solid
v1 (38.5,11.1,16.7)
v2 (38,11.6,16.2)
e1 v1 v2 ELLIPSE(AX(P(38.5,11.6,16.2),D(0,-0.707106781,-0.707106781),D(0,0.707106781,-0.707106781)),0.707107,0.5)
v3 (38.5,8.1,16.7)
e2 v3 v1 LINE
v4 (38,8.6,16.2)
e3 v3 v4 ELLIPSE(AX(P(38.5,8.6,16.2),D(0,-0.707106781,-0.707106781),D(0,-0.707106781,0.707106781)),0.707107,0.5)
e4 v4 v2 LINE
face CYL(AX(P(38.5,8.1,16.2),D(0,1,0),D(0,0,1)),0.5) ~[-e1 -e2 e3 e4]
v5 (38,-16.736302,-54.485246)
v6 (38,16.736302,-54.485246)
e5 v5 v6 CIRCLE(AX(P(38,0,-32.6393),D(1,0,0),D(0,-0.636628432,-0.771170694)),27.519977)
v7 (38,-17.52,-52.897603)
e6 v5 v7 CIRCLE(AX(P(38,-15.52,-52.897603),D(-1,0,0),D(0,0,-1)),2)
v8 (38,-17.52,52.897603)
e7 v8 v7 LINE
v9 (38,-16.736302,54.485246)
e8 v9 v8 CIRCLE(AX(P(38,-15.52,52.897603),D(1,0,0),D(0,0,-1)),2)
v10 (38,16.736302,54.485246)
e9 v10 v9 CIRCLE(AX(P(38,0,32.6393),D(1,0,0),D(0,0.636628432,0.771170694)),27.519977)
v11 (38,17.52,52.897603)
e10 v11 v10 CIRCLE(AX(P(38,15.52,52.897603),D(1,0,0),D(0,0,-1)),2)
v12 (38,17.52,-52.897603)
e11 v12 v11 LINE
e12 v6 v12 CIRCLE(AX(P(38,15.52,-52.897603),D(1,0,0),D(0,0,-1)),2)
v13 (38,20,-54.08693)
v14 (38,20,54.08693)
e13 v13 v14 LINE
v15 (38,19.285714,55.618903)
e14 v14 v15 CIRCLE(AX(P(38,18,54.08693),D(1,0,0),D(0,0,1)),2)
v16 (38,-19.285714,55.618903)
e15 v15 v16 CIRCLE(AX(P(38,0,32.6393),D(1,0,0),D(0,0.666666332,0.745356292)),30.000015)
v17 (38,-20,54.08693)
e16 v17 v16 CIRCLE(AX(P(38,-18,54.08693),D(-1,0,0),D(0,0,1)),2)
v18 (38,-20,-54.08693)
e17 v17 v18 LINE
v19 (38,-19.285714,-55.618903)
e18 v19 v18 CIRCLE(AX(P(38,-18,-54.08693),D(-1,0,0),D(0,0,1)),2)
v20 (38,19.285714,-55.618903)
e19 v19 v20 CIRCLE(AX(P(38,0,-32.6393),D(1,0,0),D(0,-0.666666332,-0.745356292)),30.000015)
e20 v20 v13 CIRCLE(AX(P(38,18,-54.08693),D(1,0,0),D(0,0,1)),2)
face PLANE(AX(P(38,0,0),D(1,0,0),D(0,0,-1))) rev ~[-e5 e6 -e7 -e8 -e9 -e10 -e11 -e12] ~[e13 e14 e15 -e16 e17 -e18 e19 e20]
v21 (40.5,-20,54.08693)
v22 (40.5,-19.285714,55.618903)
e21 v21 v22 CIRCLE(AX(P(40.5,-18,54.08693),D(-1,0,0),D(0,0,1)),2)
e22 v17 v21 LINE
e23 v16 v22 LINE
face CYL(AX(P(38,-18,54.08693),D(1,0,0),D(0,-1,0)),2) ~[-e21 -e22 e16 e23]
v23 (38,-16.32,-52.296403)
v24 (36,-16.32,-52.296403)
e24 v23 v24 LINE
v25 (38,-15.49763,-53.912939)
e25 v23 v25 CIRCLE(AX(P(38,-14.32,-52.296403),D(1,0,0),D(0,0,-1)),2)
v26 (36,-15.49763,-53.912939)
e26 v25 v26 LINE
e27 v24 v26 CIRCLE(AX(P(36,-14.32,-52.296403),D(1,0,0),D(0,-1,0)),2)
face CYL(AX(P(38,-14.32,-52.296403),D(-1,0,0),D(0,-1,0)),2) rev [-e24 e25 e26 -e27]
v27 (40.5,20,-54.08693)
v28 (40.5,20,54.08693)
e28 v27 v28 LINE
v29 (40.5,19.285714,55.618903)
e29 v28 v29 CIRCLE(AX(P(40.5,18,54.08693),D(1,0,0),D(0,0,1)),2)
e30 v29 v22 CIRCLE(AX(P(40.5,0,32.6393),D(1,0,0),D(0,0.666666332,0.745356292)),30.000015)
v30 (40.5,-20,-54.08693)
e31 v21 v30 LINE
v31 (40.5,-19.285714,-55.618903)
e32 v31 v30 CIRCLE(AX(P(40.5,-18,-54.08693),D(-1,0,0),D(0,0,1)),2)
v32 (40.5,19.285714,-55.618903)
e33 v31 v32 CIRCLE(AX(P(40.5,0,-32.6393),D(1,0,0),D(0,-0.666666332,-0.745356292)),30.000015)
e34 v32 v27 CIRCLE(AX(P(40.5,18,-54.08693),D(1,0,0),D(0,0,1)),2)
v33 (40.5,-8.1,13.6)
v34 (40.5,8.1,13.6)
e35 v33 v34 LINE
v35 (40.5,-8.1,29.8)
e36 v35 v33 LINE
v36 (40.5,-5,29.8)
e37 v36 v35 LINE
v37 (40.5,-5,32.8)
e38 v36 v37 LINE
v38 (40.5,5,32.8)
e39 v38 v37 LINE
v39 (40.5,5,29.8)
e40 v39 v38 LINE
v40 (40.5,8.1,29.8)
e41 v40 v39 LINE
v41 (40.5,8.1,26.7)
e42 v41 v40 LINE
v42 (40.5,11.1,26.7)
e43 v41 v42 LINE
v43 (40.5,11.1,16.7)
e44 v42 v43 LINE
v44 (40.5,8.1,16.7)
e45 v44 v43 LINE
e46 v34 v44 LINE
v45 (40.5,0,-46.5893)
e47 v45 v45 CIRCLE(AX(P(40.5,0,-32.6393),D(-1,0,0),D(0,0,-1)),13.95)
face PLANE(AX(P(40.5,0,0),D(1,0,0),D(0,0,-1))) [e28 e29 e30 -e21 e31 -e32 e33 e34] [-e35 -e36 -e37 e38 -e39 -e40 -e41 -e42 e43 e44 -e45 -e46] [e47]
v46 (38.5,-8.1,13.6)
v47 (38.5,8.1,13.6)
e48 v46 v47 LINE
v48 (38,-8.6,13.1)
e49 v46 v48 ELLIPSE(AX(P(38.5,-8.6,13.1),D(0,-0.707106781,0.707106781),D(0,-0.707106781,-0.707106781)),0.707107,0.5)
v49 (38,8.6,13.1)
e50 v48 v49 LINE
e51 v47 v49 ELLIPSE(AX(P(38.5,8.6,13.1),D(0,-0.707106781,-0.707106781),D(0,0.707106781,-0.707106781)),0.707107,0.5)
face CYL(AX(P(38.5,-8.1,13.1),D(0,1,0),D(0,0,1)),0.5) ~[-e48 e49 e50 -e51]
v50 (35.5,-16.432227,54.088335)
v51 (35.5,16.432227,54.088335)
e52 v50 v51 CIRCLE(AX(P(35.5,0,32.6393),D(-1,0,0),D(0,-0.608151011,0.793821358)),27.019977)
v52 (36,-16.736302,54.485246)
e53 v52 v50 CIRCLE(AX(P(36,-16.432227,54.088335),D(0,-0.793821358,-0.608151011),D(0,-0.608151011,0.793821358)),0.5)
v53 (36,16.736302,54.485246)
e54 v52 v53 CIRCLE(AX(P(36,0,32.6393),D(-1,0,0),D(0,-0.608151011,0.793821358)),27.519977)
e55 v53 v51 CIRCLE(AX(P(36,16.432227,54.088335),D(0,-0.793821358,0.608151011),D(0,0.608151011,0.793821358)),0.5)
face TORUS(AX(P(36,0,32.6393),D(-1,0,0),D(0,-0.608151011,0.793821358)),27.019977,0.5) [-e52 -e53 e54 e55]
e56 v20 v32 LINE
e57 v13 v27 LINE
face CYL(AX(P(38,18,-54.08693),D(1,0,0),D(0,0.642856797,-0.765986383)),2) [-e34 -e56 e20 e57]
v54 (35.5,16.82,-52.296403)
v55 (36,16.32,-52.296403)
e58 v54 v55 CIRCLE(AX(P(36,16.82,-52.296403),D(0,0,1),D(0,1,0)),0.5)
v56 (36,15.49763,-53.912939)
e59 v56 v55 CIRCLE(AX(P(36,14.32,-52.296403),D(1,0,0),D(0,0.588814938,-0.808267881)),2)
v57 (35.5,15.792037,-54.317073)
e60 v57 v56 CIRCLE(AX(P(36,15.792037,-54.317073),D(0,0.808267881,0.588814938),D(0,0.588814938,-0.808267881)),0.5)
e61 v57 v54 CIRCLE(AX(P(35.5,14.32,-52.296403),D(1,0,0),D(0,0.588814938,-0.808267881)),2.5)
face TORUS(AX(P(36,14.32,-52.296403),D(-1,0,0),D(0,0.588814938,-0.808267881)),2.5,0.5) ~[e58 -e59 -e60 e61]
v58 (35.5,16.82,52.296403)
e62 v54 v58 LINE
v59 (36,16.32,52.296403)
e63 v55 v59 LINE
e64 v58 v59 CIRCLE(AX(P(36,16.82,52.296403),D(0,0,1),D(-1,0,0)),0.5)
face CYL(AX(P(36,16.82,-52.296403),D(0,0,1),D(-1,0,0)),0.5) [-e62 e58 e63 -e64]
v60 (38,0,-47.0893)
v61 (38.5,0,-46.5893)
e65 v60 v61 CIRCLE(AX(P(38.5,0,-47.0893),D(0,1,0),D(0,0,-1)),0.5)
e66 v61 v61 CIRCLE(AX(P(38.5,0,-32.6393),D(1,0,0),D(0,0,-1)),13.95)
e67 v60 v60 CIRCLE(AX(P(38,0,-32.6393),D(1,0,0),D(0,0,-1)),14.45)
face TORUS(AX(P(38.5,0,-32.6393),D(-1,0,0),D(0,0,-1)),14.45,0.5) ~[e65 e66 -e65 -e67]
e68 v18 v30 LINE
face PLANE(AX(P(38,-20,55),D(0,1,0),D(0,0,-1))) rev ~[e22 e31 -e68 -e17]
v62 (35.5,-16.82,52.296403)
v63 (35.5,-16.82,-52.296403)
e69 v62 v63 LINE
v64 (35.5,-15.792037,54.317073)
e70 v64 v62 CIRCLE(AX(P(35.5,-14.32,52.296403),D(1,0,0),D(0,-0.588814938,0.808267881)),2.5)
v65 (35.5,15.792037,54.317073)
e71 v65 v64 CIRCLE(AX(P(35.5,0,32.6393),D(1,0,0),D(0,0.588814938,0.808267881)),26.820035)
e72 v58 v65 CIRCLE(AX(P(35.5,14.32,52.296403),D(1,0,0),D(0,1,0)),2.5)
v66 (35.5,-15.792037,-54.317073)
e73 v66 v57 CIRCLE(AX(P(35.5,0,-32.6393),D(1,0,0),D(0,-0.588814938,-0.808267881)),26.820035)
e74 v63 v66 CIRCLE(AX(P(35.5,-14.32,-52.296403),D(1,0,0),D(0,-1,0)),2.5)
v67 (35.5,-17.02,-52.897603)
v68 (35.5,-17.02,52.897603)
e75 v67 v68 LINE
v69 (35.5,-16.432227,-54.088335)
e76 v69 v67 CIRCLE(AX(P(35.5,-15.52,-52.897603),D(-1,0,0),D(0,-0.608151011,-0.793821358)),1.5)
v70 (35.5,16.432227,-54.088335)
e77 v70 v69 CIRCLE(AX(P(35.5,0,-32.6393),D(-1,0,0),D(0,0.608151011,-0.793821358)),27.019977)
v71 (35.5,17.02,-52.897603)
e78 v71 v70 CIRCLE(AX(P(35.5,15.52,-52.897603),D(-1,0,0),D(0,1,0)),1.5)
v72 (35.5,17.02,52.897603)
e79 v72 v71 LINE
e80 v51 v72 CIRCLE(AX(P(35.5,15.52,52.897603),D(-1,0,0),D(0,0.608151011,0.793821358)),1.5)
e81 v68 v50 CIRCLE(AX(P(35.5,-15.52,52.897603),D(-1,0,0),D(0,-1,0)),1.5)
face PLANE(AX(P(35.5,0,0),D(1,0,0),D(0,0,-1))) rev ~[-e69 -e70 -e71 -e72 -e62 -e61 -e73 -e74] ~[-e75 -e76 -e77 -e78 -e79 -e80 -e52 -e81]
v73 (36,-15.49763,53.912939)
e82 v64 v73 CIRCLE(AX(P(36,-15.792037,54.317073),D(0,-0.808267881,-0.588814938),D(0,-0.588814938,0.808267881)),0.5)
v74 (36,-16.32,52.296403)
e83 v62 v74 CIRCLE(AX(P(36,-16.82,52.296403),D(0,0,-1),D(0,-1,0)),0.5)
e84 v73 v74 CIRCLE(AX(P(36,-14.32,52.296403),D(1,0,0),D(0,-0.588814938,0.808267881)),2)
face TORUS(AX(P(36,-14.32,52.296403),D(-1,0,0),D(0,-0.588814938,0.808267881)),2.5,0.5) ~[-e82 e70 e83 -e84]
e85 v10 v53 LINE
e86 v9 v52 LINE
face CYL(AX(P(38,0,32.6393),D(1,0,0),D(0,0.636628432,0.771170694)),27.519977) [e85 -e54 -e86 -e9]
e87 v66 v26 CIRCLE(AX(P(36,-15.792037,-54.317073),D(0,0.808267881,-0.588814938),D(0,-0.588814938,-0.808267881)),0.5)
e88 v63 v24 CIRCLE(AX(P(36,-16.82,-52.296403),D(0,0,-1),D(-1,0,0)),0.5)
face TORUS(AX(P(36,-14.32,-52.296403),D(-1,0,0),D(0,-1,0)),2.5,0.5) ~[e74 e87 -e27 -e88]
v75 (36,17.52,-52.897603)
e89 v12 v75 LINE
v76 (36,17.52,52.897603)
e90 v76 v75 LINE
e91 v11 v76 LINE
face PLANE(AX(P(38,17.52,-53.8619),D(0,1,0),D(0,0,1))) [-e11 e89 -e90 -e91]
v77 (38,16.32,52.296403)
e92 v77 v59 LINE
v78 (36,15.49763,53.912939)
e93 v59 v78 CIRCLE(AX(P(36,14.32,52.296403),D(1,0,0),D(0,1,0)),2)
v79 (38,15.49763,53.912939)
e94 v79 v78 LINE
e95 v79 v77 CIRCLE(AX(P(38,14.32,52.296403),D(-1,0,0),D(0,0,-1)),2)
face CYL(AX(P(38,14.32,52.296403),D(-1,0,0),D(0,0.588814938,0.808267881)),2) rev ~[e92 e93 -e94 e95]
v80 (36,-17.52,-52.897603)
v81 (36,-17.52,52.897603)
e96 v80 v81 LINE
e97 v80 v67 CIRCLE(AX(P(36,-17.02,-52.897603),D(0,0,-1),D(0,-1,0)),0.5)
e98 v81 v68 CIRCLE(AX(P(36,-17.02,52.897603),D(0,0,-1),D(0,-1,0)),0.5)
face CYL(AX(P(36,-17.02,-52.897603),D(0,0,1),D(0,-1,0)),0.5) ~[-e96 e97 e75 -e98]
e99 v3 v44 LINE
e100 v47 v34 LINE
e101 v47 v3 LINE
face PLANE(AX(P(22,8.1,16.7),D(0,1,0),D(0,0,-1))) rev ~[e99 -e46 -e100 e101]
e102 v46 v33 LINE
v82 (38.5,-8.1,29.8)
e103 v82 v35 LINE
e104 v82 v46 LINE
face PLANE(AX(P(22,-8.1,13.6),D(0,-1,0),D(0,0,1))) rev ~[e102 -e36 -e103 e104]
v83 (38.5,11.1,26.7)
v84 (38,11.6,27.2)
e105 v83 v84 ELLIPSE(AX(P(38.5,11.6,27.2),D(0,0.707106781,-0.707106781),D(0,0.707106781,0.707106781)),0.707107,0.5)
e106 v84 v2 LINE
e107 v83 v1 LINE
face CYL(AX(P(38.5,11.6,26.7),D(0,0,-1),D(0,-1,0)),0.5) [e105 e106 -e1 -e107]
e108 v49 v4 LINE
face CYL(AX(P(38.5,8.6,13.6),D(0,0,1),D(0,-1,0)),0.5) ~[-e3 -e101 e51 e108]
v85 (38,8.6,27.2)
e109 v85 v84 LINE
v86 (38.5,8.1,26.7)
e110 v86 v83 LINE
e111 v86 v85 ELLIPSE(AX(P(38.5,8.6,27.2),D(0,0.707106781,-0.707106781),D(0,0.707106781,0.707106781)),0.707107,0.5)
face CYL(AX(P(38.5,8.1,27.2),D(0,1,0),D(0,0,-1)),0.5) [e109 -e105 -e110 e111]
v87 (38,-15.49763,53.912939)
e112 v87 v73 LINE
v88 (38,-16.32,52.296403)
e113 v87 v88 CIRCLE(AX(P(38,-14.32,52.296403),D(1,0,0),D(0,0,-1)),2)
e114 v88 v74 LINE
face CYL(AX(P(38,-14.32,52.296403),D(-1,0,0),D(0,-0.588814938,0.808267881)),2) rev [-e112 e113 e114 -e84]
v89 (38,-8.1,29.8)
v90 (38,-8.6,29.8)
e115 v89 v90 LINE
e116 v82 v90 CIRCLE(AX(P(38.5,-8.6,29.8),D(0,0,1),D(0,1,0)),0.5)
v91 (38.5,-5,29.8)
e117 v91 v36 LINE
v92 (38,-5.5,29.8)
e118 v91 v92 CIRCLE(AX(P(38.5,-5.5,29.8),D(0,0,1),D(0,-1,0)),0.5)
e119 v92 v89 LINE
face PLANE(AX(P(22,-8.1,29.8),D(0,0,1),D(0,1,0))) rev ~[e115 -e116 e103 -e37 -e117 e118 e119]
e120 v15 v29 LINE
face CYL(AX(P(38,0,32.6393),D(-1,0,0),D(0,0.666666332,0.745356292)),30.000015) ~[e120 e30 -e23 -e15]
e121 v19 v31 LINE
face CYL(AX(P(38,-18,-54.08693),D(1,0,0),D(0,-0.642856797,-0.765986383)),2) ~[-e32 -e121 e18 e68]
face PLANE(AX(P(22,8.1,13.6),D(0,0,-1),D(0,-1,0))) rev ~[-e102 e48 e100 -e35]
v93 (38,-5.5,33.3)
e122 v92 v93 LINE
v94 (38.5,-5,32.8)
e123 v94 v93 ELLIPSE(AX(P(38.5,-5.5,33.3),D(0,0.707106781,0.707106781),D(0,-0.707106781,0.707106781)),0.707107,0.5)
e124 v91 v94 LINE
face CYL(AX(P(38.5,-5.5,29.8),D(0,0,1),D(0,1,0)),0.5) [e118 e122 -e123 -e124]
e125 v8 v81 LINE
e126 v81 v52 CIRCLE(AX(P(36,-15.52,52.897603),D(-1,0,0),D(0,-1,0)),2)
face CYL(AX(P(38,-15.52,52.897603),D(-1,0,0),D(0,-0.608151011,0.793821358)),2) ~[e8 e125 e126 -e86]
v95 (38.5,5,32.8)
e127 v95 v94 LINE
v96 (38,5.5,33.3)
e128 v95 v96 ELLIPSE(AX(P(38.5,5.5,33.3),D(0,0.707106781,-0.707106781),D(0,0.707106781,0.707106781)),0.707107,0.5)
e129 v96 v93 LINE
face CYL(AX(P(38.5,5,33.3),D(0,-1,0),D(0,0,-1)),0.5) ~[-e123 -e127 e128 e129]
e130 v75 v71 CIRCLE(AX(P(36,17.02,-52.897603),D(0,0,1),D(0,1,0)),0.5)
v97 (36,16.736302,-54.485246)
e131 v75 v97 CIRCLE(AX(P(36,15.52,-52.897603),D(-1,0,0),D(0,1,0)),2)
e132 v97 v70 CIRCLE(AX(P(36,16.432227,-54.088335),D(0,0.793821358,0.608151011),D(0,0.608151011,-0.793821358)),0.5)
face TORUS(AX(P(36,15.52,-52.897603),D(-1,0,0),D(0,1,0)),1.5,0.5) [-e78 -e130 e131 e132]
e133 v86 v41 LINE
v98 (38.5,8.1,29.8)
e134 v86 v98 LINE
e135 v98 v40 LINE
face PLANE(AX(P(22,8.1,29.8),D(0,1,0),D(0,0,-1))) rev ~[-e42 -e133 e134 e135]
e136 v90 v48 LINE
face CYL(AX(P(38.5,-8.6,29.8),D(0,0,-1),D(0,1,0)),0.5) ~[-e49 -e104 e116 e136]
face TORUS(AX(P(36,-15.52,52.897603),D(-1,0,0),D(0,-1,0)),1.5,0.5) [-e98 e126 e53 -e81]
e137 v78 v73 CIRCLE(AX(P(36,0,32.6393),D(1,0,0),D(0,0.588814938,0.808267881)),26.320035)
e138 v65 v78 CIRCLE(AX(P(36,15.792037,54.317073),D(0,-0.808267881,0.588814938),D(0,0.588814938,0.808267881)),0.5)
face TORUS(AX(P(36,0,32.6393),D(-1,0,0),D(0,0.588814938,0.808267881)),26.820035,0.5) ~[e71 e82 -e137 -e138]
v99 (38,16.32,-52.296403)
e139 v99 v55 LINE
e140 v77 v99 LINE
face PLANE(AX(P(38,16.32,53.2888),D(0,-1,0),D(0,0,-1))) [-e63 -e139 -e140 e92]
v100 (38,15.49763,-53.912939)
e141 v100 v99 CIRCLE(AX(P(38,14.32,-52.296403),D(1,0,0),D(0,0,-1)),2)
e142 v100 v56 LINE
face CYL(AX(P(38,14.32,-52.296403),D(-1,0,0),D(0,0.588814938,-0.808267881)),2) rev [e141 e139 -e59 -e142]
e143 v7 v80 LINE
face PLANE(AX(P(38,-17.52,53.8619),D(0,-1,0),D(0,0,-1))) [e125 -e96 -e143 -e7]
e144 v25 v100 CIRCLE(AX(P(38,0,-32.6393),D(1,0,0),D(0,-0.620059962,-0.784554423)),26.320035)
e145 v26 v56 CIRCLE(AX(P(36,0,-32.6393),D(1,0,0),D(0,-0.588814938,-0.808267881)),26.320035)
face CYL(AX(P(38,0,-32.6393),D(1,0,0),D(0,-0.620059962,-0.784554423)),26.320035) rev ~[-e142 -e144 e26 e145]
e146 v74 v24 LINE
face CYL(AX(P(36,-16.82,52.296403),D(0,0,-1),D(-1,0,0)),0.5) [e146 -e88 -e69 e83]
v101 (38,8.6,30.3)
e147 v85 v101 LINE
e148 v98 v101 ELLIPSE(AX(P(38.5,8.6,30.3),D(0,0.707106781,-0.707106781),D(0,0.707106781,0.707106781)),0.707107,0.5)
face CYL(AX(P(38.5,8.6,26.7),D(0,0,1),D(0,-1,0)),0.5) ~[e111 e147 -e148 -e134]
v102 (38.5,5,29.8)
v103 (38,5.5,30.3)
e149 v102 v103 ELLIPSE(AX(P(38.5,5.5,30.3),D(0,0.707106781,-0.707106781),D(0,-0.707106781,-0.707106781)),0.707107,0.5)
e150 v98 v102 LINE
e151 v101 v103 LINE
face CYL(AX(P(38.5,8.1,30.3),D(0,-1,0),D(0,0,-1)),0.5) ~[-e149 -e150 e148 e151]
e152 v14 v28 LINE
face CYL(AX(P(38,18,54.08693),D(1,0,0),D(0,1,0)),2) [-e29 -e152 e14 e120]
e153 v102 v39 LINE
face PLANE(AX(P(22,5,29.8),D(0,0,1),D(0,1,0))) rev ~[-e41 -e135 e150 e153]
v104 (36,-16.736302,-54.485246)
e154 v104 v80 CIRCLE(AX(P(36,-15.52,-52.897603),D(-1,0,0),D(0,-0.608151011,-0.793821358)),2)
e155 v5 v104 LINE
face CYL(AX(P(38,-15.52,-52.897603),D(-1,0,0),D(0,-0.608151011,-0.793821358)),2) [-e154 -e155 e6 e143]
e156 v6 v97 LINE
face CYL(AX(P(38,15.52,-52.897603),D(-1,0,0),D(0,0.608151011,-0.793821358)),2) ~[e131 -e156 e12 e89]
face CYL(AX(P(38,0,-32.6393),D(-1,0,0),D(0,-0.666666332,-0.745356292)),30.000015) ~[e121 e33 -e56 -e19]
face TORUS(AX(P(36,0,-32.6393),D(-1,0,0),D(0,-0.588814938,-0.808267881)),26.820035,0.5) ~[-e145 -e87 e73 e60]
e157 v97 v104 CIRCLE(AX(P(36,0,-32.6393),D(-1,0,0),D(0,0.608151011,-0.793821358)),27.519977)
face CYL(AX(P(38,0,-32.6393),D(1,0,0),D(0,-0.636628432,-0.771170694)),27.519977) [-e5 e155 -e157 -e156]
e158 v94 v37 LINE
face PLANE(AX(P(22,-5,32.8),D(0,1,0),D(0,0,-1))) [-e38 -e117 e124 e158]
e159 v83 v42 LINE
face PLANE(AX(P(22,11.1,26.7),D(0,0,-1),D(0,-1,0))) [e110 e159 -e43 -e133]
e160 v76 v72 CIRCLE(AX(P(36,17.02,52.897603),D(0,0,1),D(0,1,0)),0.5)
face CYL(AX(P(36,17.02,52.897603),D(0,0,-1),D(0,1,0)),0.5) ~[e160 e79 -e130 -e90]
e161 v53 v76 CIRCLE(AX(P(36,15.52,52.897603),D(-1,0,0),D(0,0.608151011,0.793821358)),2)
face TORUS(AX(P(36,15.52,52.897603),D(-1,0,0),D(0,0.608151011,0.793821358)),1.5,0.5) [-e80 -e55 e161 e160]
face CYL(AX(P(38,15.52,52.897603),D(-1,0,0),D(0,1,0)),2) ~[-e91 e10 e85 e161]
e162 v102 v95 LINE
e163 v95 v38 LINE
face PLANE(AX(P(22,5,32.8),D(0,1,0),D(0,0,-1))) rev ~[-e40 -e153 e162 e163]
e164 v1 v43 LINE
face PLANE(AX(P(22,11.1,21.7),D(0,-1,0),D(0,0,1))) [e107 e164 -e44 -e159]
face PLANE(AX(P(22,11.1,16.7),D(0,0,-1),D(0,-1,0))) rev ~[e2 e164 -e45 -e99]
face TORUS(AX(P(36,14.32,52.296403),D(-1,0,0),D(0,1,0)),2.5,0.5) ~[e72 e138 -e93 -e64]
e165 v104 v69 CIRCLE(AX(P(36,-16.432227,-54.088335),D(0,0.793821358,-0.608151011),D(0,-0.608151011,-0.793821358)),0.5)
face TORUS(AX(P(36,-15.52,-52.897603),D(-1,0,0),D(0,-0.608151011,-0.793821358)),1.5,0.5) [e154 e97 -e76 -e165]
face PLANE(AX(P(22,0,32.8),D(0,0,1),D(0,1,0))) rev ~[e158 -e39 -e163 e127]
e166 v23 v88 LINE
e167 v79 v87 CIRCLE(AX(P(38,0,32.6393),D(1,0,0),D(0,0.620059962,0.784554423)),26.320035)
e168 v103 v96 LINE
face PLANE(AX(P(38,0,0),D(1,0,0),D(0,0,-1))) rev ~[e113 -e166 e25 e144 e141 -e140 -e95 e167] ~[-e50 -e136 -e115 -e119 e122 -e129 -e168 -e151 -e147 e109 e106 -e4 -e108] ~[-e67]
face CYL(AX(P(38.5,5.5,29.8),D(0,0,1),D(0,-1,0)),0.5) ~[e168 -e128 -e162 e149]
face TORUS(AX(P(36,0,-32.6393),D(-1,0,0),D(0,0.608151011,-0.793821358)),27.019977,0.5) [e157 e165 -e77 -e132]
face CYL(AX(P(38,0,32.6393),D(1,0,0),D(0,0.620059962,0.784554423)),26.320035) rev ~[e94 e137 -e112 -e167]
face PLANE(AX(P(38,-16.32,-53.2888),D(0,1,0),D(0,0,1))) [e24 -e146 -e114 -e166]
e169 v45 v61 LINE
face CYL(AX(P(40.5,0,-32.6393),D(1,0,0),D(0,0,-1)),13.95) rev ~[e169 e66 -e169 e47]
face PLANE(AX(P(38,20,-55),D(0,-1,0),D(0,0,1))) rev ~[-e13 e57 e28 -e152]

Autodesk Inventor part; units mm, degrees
ref_plane "YZ Plane" through (0, 0, 0) normal (1, 0, 0) x (0, 1, 0)
ref_plane "XZ Plane" through (0, 0, 0) normal (0, 1, 0) x (-1, 0, 0)
ref_plane "XY Plane" through (0, 0, 0) normal (0, 0, 1) x (1, 0, 0)
sketch "Sketch1" plane through (0, 0, 0) normal (1, 0, 0) x (0, 1, 0)
  line L0 (-20, 55) -> (-20, -55)
  line L1 (-20, -55) -> (20, -55)
  line L2 (20, -55) -> (20, 55)
  line L3 (20, 55) -> (-20, 55)
  line L4 (-20, 55) -> (20, -55) construction
  line L5 (-20, -55) -> (20, 55) construction
  point P0 (0, 0)
  dimension "d0" = 110
  dimension "d1" = 40
extrude "Extrusion1" add sketch "Sketch1" along normal blind 2
sketch "Sketch2" plane through (2, 0, 0) normal (1, 0, 0) x (0, 0, -1)
  line L0 (55, 20) -> (-55, 20) projected
  line L1 (0, 20) -> (0, -25.4851) construction
  line L2 (-55, 20) -> (-55, -20) projected
  line L3 (-55, 0) -> (-48, 0)
  line L4 (-48, 0) -> (-48, 15)
  line L5 (-48, 15) -> (22, 15)
  line L6 (22, 15) -> (22, -15)
  line L7 (22, -15) -> (-48, -15)
  line L8 (-48, -15) -> (-48, 0)
  line L9 (-50.5, 12.5) -> (-45.5, 12.5)
  line L10 (-45.5, 12.5) -> (-45.5, 17.5)
  line L11 (-45.5, 17.5) -> (-50.5, 17.5)
  line L12 (-50.5, 17.5) -> (-50.5, 12.5)
  line L13 (-50.5, 12.5) -> (-45.5, 17.5) construction
  line L14 (-45.5, 12.5) -> (-50.5, 17.5) construction
  line L15 (-13, 15) -> (-13, -15)
  line L16 (24.5, 12.5) -> (19.5, 12.5)
  line L17 (19.5, 12.5) -> (19.5, 17.5)
  line L18 (19.5, 17.5) -> (24.5, 17.5)
  line L19 (24.5, 17.5) -> (24.5, 12.5)
  line L20 (24.5, 12.5) -> (19.5, 17.5) construction
  line L21 (19.5, 12.5) -> (24.5, 17.5) construction
  line L22 (-48, 0) -> (22, 0) construction
  line L23 (-50.5, -17.5) -> (-45.5, -17.5)
  line L24 (-45.5, -17.5) -> (-45.5, -12.5)
  line L25 (-45.5, -12.5) -> (-50.5, -12.5)
  line L26 (-50.5, -12.5) -> (-50.5, -17.5)
  line L27 (-50.5, -17.5) -> (-45.5, -12.5) construction
  line L28 (-45.5, -17.5) -> (-50.5, -12.5) construction
  line L29 (24.5, -17.5) -> (19.5, -17.5)
  line L30 (19.5, -17.5) -> (19.5, -12.5)
  line L31 (19.5, -12.5) -> (24.5, -12.5)
  line L32 (24.5, -12.5) -> (24.5, -17.5)
  line L33 (24.5, -17.5) -> (19.5, -12.5) construction
  line L34 (19.5, -17.5) -> (24.5, -12.5) construction
  point P0 (0, 0)
  dimension "d4" = 7
  dimension "d5" = 15
  dimension "d6" = 70
  dimension "d7" = 30
  dimension "d8" = 5
  dimension "d9" = 5
  dimension "d10" = 5
  dimension "d11" = 5
  dimension "d12" = 5
  dimension "d13" = 5
extrude "Extrusion2" add sketch "Sketch2" along normal blind 20
sketch "Sketch3" plane through (22, 0, 0) normal (1, 0, 0) x (0, 0, -1)
  line L0 (22, -12.5) -> (22, 12.5) projected
  line L1 (22, 12.5) -> (24.5, 12.5) projected
  line L2 (24.5, 12.5) -> (24.5, 17.5) projected
  line L3 (24.5, 17.5) -> (19.5, 17.5) projected
  line L4 (19.5, 17.5) -> (19.5, 15) projected
  line L5 (19.5, 15) -> (-45.5, 15) projected
  line L6 (-45.5, 15) -> (-45.5, 17.5) projected
  line L7 (-45.5, 17.5) -> (-50.5, 17.5) projected
  line L8 (-50.5, 17.5) -> (-50.5, 12.5) projected
  line L9 (-50.5, 12.5) -> (-48, 12.5) projected
  line L10 (-48, 12.5) -> (-48, -12.5) projected
  line L11 (-48, -12.5) -> (-50.5, -12.5) projected
  line L12 (-50.5, -12.5) -> (-50.5, -17.5) projected
  line L13 (-50.5, -17.5) -> (-45.5, -17.5) projected
  line L14 (-45.5, -17.5) -> (-45.5, -15) projected
  line L15 (-45.5, -15) -> (19.5, -15) projected
  line L16 (19.5, -15) -> (19.5, -17.5) projected
  line L17 (19.5, -17.5) -> (24.5, -17.5) projected
  line L18 (24.5, -17.5) -> (24.5, -12.5) projected
  line L19 (24.5, -12.5) -> (22, -12.5) projected
  line L20 (-13, 15) -> (-13, -15)
  line L21 (22, -15) -> (22, 15)
  line L22 (-48, 15) -> (-48, -15)
  line L23 (-48, -15) -> (22, 15) construction
  line L24 (22, -15) -> (-48, 15) construction
  line L25 (-38.7087, -2.3779) -> (12.7087, -2.3779)
  line L26 (12.7087, -2.3779) -> (12.7087, 2.3779)
  line L27 (12.7087, 2.3779) -> (-38.7087, 2.3779)
  line L28 (-38.7087, 2.3779) -> (-38.7087, -2.3779)
  line L29 (-38.7087, -2.3779) -> (12.7087, 2.3779) construction
  line L30 (12.7087, -2.3779) -> (-38.7087, 2.3779) construction
  line L31 (-10.5799, -13.0883) -> (-10.5799, 13.0883)
  line L32 (-10.5799, 13.0883) -> (-15.4201, 13.0883)
  line L33 (-15.4201, 13.0883) -> (-15.4201, -13.0883)
  line L34 (-15.4201, -13.0883) -> (-10.5799, -13.0883)
  line L35 (-10.5799, -13.0883) -> (-15.4201, 13.0883) construction
  line L36 (-10.5799, 13.0883) -> (-15.4201, -13.0883) construction
  line L37 (-45.5, 15) -> (-48, 15)
  line L38 (24.5, 17.5) -> (19.5, 17.5)
  line L39 (19.5, 17.5) -> (19.5, 15)
  line L40 (19.5, 15) -> (24.5, 15)
  line L41 (24.5, 15) -> (24.5, 17.5)
  line L42 (24.5, 12.5) -> (22, 12.5)
  line L43 (22, 12.5) -> (22, 17.5)
  line L44 (22, 17.5) -> (24.5, 17.5)
  line L45 (24.5, 17.5) -> (24.5, 12.5)
  line L46 (-48, 12.5) -> (-50.5, 12.5) projected
  line L47 (-50.5, 17.5) -> (-48, 17.5)
  line L48 (-48, 17.5) -> (-48, 12.5)
  line L49 (-48, 12.5) -> (-50.5, 12.5)
  line L50 (-50.5, 12.5) -> (-50.5, 17.5)
  line L51 (-50.5, 12.5) -> (-50.5, 17.5) projected
  line L52 (-50.5, 17.5) -> (-45.5, 17.5)
  line L53 (-45.5, 17.5) -> (-45.5, 15)
  line L54 (-45.5, 15) -> (-50.5, 15)
  line L55 (-50.5, 15) -> (-50.5, 17.5)
  line L56 (-50.5, -17.5) -> (-45.5, -17.5)
  line L57 (-45.5, -17.5) -> (-45.5, -15.0713)
  line L58 (-45.5, -15.0713) -> (-50.5, -15.0713)
  line L59 (-50.5, -15.0713) -> (-50.5, -17.5)
  line L60 (-45.5, -17.5) -> (-50.5, -17.5) projected
  line L61 (-50.5, -17.5) -> (-48, -17.5)
  line L62 (-48, -17.5) -> (-48, -12.5)
  line L63 (-48, -12.5) -> (-50.5, -12.5)
  line L64 (-50.5, -12.5) -> (-50.5, -17.5)
  line L65 (19.5, -17.5) -> (24.5, -17.5)
  line L66 (24.5, -17.5) -> (24.5, -15)
  line L67 (24.5, -15) -> (19.5, -15)
  line L68 (19.5, -15) -> (19.5, -17.5)
  line L69 (24.5, -12.5) -> (24.5, -17.5) projected
  line L70 (24.5, -17.5) -> (22, -17.5)
  line L71 (22, -17.5) -> (22, -12.5)
  line L72 (22, -12.5) -> (24.5, -12.5)
  line L73 (24.5, -12.5) -> (24.5, -17.5)
  point P0 (0, 0)
  point P1 (-13, 0)
extrude "Extrusion3" add sketch "Sketch3" along normal blind 9 contours L19 L18 L67 L21 | L21 L40 L2 L1 | L71 L17 L16 L67 | L67 L18 L17 L71 | L43 L3 L2 L40 | L40 L4 L3 L43 | L34 L33 L25 L20 | L20 L25 L31 L34 | L37 L48 L7 L6 | L32 L31 L27 L20 | L20 L27 L33 L32 | L14 L13 L62 L58 | L25 L33 L27 L20 | L20 L27 L31 L25 | L54 L8 L7 L48 | L22 L9 L8 L54 | L62 L13 L12 L58 | L58 L12 L11 L22 L62 | L25 L28 L27 L33 | L31 L27 L26 L25
sketch "Sketch4" plane through (31, 0, 0) normal (1, 0, 0) x (0, 0, -1)
  line L0 (-48, 15) -> (-45.5, 15) projected
  line L1 (-45.5, 15) -> (-45.5, 17.5) projected
  line L2 (-45.5, 17.5) -> (-50.5, 17.5) projected
  line L3 (-50.5, 17.5) -> (-50.5, 12.5) projected
  line L4 (-50.5, 12.5) -> (-48, 12.5) projected
  line L5 (-48, 12.5) -> (-48, 15) projected
  line L6 (-48, -15.0713) -> (-48, -12.5) projected
  line L7 (-48, -12.5) -> (-50.5, -12.5) projected
  line L8 (-50.5, -12.5) -> (-50.5, -17.5) projected
  line L9 (-50.5, -17.5) -> (-45.5, -17.5) projected
  line L10 (-45.5, -17.5) -> (-45.5, -15.0713) projected
  line L11 (-45.5, -15.0713) -> (-48, -15.0713) projected
  line L12 (22, -15) -> (19.5, -15) projected
  line L13 (19.5, -15) -> (19.5, -17.5) projected
  line L14 (19.5, -17.5) -> (24.5, -17.5) projected
  line L15 (24.5, -17.5) -> (24.5, -12.5) projected
  line L16 (24.5, -12.5) -> (22, -12.5) projected
  line L17 (22, -12.5) -> (22, -15) projected
  line L18 (22, 15) -> (22, 12.5) projected
  line L19 (22, 12.5) -> (24.5, 12.5) projected
  line L20 (24.5, 12.5) -> (24.5, 17.5) projected
  line L21 (24.5, 17.5) -> (19.5, 17.5) projected
  line L22 (19.5, 17.5) -> (19.5, 15) projected
  line L23 (19.5, 15) -> (22, 15) projected
  point P0 (0, 0)
extrude "Extrusion4" add sketch "Sketch4" along normal blind 3
sketch "Sketch5" plane through (22, 0, 0) normal (1, 0, 0) x (0, 0, -1)
  line L0 (-48, 15) -> (-48, 12.5) projected
  line L1 (-48, 12.5) -> (-48, -12.5) projected
  line L2 (-48, -12.5) -> (-48, -15.0713) projected
  line L3 (-48, -15.0713) -> (-45.5, -15.0713) projected
  line L4 (-45.5, -15.0713) -> (-45.5, -15) projected
  line L5 (-45.5, -15) -> (19.5, -15) projected
  line L6 (19.5, -15) -> (22, -15) projected
  line L7 (22, -15) -> (22, -12.5) projected
  line L8 (22, -12.5) -> (22, 12.5) projected
  line L9 (22, 12.5) -> (22, 15) projected
  line L10 (22, 15) -> (19.5, 15) projected
  line L11 (19.5, 15) -> (-45.5, 15) projected
  line L12 (-45.5, 15) -> (-48, 15) projected
  line L13 (12.7087, -2.3779) -> (-10.5799, -2.3779) projected
  line L14 (-10.5799, -2.3779) -> (-10.5799, -13.0883) projected
  line L15 (-10.5799, -13.0883) -> (-15.4201, -13.0883) projected
  line L16 (-15.4201, -13.0883) -> (-15.4201, -2.3779) projected
  line L17 (-15.4201, -2.3779) -> (-38.7087, -2.3779) projected
  line L18 (-38.7087, -2.3779) -> (-38.7087, 2.3779) projected
  line L19 (-38.7087, 2.3779) -> (-15.4201, 2.3779) projected
  line L20 (-15.4201, 2.3779) -> (-15.4201, 13.0883) projected
  line L21 (-15.4201, 13.0883) -> (-10.5799, 13.0883) projected
  line L22 (-10.5799, 13.0883) -> (-10.5799, 2.3779) projected
  line L23 (-10.5799, 2.3779) -> (12.7087, 2.3779) projected
  line L24 (12.7087, 2.3779) -> (12.7087, -2.3779) projected
  line L25 (-45.5, 15.1) -> (19.5, 15.1)
  line L26 (19.5, 15.1) -> (22.1, 15.1)
  line L27 (22.1, 15.1) -> (22.1, 12.5)
  line L28 (22.1, 12.5) -> (22.1, -12.5)
  line L29 (22.1, -12.5) -> (22.1, -15.1)
  line L30 (22.1, -15.1) -> (19.5, -15.1)
  line L31 (19.5, -15.1) -> (-45.4, -15.1)
  line L32 (-45.4, -15.1) -> (-45.4, -15.1713)
  line L33 (-45.4, -15.1713) -> (-48.1, -15.1713)
  line L34 (-48.1, -15.1713) -> (-48.1, -12.5)
  line L35 (-48.1, -12.5) -> (-48.1, 12.5)
  line L36 (-48.1, 12.5) -> (-48.1, 15.1)
  line L37 (-48.1, 15.1) -> (-45.5, 15.1)
  point P0 (0, 0)
  dimension "d20" = 0.1
extrude "Extrusion5" cut sketch "Sketch5" along normal blind 50 contours L25 L26 L27 L28 L29 L30 L31 L32 L33 L34 L35 L36 L37
sketch "Sketch7" plane through (31, 0, 0) normal (1, 0, 0) x (0, 0, -1)
  line L0 (12.7087, 2.3779) -> (-10.5799, 2.3779) projected
  line L1 (-10.5799, -2.3779) -> (12.7087, -2.3779) projected
  line L2 (-3.8945, 2.3779) -> (12.8589, 2.3779)
  line L3 (12.8589, 2.3779) -> (12.8589, -2.3779)
  line L4 (12.8589, -2.3779) -> (-3.8945, -2.3779)
  line L5 (-3.8945, -2.3779) -> (-3.8945, 2.3779)
  point P0 (0, 0)
extrude "Extrusion7" cut sketch "Sketch7" against normal blind 9
chamfer "Chamfer1" distance 9 angle 45 1 edges at (22, 0, -22)
sketch "Sketch9" plane through (2, 0, 0) normal (1, 0, 0) x (0, 0, -1)
  arc A0 (-55, 20) -> (-55, -20) centre (-32.6393, 0) ccw
  line L0 (-55, -20) -> (55, -20) projected
  line L1 (55, 20) -> (-55, 20) projected
  arc A1 (55, -20) -> (55, 20) centre (32.6393, 0) ccw
  arc A2 (-53.8996, 17.6) -> (-53.8996, -17.6) centre (-32.6393, 0) ccw
  line L2 (-53.8996, 17.6) -> (53.8996, 17.6)
  arc A3 (53.8996, -17.6) -> (53.8996, 17.6) centre (32.6393, 0) ccw
  line L3 (53.8996, -17.6) -> (-53.8996, -17.6)
  point P0 (0, 0)
  dimension "d34" = 30
  dimension "d35" = 30
  dimension "d36" = 2.4
extrude "Extrusion8" add sketch "Sketch9" along normal blind 36
sketch "Sketch10" plane through (0, 0, 0) normal (-1, 0, 0) x (0, 0, 1)
  line L0 (55, -20) -> (-55, -20) projected
  line L1 (-55, 20) -> (55, 20) projected
  arc A0 (55, -20) -> (55, 20) centre (32.6393, 0) ccw projected
  arc A1 (-55, 20) -> (-55, -20) centre (-32.6393, 0) ccw projected
  point P0 (0, 0)
extrude "Extrusion9" add sketch "Sketch10" against normal blind 2
sketch "Sketch11" plane through (38, 0, 0) normal (1, 0, 0) x (0, 0, -1)
  line L0 (-53.8996, 17.6) -> (53.8996, 17.6) projected
  arc A0 (53.8996, -17.6) -> (53.8996, 17.6) centre (32.6393, 0) ccw projected
  line L1 (53.8996, -17.6) -> (-53.8996, -17.6) projected
  arc A1 (-53.8996, 17.6) -> (-53.8996, -17.6) centre (-32.6393, 0) ccw projected
  arc A2 (-55, 20) -> (-55, -20) centre (-32.6393, 0) ccw projected
  line L2 (-55, -20) -> (55, -20) projected
  arc A3 (55, -20) -> (55, 20) centre (32.6393, 0) ccw projected
  line L3 (55, 20) -> (-55, 20) projected
  line L4 (53.8619, 17.52) -> (-53.8619, 17.52)
  arc A4 (-53.8619, 17.52) -> (-53.8619, -17.52) centre (-32.6393, 0) ccw
  line L5 (-53.8619, -17.52) -> (53.8619, -17.52)
  arc A5 (53.8619, -17.52) -> (53.8619, 17.52) centre (32.6393, 0) ccw
  line L6 (-53.2888, 16.32) -> (53.2888, 16.32)
  arc A6 (53.2888, -16.32) -> (53.2888, 16.32) centre (32.6393, 0) ccw
  line L7 (53.2888, -16.32) -> (-53.2888, -16.32)
  arc A7 (-53.2888, 16.32) -> (-53.2888, -16.32) centre (-32.6393, 0) ccw
  point P0 (0, 0)
  dimension "d41" = 0.08
  dimension "d42" = 1.2
extrude "Extrusion10" add sketch "Sketch11" against normal blind 2.5 separate body contours A5 L5 A4 L4
sketch "Sketch12" plane through (38, 0, 0) normal (1, 0, 0) x (0, 0, -1)
  line L0 (55, 20) -> (-55, 20) projected
  arc A0 (-55, 20) -> (-55, -20) centre (-32.6393, 0) ccw projected
  arc A1 (55, -20) -> (55, 20) centre (32.6393, 0) ccw projected
  line L1 (-55, -20) -> (55, -20) projected
  point P0 (0, 0)
extrude "Extrusion11" add sketch "Sketch12" along normal blind 2.5 bodies 2
sketch "Sketch13" plane through (22, 0, 0) normal (1, 0, 0) x (0, 0, -1)
  line L0 (-48, 12.5) -> (-48, -12.5) projected
  line L1 (-48, 0) -> (-29.8, 0)
  line L2 (-29.8, 0) -> (-32.8, 0)
  line L3 (-29.8, 0) -> (-29.8, 8.1)
  line L4 (-29.8, 8.1) -> (-13.6, 8.1)
  line L5 (-13.6, 8.1) -> (-13.6, -8.1)
  line L6 (-13.6, -8.1) -> (-29.8, -8.1)
  line L7 (-29.8, -8.1) -> (-29.8, 0)
  line L8 (-32.8, 0) -> (-32.8, 5)
  line L9 (-32.8, 5) -> (-29.8, 5)
  line L10 (-32.8, 0) -> (-32.8, -5)
  line L11 (-32.8, -5) -> (-29.8, -5)
  line L12 (-21.7, 8.1) -> (-21.7, 11.1)
  line L13 (-21.7, 11.1) -> (-16.7, 11.1)
  line L14 (-16.7, 11.1) -> (-16.7, 7.9077)
  line L15 (-21.7, 11.1) -> (-26.7, 11.1)
  line L16 (-26.7, 11.1) -> (-26.7, 7.9077)
  line L17 (-26.7, 11.1) -> (-16.7, 11.1)
  line L18 (-16.7, 11.1) -> (-16.7, 8.1)
  line L19 (-16.7, 8.1) -> (-26.7, 8.1)
  line L20 (-26.7, 8.1) -> (-26.7, 11.1)
  line L21 (-32.8, 5) -> (-29.8, 5)
  line L22 (-29.8, 5) -> (-29.8, -5)
  line L23 (-29.8, -5) -> (-32.8, -5)
  line L24 (-32.8, -5) -> (-32.8, 5)
  point P0 (0, 0)
  dimension "d47" = 18.2
  dimension "d48" = 3
  dimension "d50" = 8.1
  dimension "d51" = 16.2
  dimension "d52" = 16.2
  dimension "d53" = 5
  dimension "d54" = 5
  dimension "d55" = 3
extrude "Extrusion12" cut sketch "Sketch13" along normal blind 50 bodies 2
sketch "Sketch14" plane through (40.5, 0, 0) normal (1, 0, 0) x (0, 0, -1)
  arc A0 (55, -20) -> (55, 20) centre (32.6393, 0) ccw projected
  line L0 (0, 0) -> (55, 20)
  line L1 (55, 20) -> (55, 0)
  line L2 (55, 0) -> (0, 0)
  circle A1 centre (32.6393, 0) radius 13.95
  dimension "d58" = 27.9
extrude "Extrusion13" cut sketch "Sketch14" against normal blind 50 contours A1 L0 | L0 A1 L2 | L2 A1 picked at (33.9931, 4.4486) bodies 2
sketch "Sketch15" plane through (40.5, 0, 0) normal (1, 0, 0) x (0, 0, -1)
  circle A0 centre (0, 0) radius 87.2959
extrude "Extrusion14" cut sketch "Sketch15" against normal blind 50 bodies 1
fillet "Fillet3" radius 2 12 edges at (39.25, 20, 55) (39.25, 20, -55) (39.25, -20, -55) (39.25, -20, 55) (36.75, 17.52, 53.8619) (36.75, -17.52, 53.8619) (36.75, 16.32, 53.2888) (36.75, -16.32, 53.2888) (36.75, -17.52, -53.8619) (36.75, 17.52, -53.8619) (36.75, 16.32, -53.2888) (36.75, -16.32, -53.2888)
fillet "Fillet4" radius 0.5 16 edges at (35.5, -17.3134, -53.7829) (35.5, -17.52, 0) (35.5, -17.3134, 53.7829) (35.5, 0, 60.1593) (35.5, 17.3134, 53.7829) (35.5, 17.52, 0) (35.5, 17.3134, -53.7829) (35.5, 0, -60.1593) (35.5, 16.1026, -53.2032) (35.5, 16.32, 0) (35.5, 16.1026, 53.2032) (35.5, 0, 58.9593) (35.5, -16.1026, 53.2032) (35.5, -16.32, 0) (35.5, -16.1026, -53.2032) (35.5, 0, -58.9593)
fillet "Fillet5" radius 0.5 11 edges at (38, 9.6, 26.7) (38, 8.1, 28.25) (38, 6.55, 29.8) (38, 5, 31.3) (38, 0, 32.8) (38, -5, 31.3) (38, -8.1, 21.7) (38, 0, 13.6) (38, 8.1, 15.15) (38, 9.6, 16.7) (38, 11.1, 21.7)
fillet "Fillet6" radius 0.5 1 edges at (38, 0, -18.6893)
properties part number "Controller top"
